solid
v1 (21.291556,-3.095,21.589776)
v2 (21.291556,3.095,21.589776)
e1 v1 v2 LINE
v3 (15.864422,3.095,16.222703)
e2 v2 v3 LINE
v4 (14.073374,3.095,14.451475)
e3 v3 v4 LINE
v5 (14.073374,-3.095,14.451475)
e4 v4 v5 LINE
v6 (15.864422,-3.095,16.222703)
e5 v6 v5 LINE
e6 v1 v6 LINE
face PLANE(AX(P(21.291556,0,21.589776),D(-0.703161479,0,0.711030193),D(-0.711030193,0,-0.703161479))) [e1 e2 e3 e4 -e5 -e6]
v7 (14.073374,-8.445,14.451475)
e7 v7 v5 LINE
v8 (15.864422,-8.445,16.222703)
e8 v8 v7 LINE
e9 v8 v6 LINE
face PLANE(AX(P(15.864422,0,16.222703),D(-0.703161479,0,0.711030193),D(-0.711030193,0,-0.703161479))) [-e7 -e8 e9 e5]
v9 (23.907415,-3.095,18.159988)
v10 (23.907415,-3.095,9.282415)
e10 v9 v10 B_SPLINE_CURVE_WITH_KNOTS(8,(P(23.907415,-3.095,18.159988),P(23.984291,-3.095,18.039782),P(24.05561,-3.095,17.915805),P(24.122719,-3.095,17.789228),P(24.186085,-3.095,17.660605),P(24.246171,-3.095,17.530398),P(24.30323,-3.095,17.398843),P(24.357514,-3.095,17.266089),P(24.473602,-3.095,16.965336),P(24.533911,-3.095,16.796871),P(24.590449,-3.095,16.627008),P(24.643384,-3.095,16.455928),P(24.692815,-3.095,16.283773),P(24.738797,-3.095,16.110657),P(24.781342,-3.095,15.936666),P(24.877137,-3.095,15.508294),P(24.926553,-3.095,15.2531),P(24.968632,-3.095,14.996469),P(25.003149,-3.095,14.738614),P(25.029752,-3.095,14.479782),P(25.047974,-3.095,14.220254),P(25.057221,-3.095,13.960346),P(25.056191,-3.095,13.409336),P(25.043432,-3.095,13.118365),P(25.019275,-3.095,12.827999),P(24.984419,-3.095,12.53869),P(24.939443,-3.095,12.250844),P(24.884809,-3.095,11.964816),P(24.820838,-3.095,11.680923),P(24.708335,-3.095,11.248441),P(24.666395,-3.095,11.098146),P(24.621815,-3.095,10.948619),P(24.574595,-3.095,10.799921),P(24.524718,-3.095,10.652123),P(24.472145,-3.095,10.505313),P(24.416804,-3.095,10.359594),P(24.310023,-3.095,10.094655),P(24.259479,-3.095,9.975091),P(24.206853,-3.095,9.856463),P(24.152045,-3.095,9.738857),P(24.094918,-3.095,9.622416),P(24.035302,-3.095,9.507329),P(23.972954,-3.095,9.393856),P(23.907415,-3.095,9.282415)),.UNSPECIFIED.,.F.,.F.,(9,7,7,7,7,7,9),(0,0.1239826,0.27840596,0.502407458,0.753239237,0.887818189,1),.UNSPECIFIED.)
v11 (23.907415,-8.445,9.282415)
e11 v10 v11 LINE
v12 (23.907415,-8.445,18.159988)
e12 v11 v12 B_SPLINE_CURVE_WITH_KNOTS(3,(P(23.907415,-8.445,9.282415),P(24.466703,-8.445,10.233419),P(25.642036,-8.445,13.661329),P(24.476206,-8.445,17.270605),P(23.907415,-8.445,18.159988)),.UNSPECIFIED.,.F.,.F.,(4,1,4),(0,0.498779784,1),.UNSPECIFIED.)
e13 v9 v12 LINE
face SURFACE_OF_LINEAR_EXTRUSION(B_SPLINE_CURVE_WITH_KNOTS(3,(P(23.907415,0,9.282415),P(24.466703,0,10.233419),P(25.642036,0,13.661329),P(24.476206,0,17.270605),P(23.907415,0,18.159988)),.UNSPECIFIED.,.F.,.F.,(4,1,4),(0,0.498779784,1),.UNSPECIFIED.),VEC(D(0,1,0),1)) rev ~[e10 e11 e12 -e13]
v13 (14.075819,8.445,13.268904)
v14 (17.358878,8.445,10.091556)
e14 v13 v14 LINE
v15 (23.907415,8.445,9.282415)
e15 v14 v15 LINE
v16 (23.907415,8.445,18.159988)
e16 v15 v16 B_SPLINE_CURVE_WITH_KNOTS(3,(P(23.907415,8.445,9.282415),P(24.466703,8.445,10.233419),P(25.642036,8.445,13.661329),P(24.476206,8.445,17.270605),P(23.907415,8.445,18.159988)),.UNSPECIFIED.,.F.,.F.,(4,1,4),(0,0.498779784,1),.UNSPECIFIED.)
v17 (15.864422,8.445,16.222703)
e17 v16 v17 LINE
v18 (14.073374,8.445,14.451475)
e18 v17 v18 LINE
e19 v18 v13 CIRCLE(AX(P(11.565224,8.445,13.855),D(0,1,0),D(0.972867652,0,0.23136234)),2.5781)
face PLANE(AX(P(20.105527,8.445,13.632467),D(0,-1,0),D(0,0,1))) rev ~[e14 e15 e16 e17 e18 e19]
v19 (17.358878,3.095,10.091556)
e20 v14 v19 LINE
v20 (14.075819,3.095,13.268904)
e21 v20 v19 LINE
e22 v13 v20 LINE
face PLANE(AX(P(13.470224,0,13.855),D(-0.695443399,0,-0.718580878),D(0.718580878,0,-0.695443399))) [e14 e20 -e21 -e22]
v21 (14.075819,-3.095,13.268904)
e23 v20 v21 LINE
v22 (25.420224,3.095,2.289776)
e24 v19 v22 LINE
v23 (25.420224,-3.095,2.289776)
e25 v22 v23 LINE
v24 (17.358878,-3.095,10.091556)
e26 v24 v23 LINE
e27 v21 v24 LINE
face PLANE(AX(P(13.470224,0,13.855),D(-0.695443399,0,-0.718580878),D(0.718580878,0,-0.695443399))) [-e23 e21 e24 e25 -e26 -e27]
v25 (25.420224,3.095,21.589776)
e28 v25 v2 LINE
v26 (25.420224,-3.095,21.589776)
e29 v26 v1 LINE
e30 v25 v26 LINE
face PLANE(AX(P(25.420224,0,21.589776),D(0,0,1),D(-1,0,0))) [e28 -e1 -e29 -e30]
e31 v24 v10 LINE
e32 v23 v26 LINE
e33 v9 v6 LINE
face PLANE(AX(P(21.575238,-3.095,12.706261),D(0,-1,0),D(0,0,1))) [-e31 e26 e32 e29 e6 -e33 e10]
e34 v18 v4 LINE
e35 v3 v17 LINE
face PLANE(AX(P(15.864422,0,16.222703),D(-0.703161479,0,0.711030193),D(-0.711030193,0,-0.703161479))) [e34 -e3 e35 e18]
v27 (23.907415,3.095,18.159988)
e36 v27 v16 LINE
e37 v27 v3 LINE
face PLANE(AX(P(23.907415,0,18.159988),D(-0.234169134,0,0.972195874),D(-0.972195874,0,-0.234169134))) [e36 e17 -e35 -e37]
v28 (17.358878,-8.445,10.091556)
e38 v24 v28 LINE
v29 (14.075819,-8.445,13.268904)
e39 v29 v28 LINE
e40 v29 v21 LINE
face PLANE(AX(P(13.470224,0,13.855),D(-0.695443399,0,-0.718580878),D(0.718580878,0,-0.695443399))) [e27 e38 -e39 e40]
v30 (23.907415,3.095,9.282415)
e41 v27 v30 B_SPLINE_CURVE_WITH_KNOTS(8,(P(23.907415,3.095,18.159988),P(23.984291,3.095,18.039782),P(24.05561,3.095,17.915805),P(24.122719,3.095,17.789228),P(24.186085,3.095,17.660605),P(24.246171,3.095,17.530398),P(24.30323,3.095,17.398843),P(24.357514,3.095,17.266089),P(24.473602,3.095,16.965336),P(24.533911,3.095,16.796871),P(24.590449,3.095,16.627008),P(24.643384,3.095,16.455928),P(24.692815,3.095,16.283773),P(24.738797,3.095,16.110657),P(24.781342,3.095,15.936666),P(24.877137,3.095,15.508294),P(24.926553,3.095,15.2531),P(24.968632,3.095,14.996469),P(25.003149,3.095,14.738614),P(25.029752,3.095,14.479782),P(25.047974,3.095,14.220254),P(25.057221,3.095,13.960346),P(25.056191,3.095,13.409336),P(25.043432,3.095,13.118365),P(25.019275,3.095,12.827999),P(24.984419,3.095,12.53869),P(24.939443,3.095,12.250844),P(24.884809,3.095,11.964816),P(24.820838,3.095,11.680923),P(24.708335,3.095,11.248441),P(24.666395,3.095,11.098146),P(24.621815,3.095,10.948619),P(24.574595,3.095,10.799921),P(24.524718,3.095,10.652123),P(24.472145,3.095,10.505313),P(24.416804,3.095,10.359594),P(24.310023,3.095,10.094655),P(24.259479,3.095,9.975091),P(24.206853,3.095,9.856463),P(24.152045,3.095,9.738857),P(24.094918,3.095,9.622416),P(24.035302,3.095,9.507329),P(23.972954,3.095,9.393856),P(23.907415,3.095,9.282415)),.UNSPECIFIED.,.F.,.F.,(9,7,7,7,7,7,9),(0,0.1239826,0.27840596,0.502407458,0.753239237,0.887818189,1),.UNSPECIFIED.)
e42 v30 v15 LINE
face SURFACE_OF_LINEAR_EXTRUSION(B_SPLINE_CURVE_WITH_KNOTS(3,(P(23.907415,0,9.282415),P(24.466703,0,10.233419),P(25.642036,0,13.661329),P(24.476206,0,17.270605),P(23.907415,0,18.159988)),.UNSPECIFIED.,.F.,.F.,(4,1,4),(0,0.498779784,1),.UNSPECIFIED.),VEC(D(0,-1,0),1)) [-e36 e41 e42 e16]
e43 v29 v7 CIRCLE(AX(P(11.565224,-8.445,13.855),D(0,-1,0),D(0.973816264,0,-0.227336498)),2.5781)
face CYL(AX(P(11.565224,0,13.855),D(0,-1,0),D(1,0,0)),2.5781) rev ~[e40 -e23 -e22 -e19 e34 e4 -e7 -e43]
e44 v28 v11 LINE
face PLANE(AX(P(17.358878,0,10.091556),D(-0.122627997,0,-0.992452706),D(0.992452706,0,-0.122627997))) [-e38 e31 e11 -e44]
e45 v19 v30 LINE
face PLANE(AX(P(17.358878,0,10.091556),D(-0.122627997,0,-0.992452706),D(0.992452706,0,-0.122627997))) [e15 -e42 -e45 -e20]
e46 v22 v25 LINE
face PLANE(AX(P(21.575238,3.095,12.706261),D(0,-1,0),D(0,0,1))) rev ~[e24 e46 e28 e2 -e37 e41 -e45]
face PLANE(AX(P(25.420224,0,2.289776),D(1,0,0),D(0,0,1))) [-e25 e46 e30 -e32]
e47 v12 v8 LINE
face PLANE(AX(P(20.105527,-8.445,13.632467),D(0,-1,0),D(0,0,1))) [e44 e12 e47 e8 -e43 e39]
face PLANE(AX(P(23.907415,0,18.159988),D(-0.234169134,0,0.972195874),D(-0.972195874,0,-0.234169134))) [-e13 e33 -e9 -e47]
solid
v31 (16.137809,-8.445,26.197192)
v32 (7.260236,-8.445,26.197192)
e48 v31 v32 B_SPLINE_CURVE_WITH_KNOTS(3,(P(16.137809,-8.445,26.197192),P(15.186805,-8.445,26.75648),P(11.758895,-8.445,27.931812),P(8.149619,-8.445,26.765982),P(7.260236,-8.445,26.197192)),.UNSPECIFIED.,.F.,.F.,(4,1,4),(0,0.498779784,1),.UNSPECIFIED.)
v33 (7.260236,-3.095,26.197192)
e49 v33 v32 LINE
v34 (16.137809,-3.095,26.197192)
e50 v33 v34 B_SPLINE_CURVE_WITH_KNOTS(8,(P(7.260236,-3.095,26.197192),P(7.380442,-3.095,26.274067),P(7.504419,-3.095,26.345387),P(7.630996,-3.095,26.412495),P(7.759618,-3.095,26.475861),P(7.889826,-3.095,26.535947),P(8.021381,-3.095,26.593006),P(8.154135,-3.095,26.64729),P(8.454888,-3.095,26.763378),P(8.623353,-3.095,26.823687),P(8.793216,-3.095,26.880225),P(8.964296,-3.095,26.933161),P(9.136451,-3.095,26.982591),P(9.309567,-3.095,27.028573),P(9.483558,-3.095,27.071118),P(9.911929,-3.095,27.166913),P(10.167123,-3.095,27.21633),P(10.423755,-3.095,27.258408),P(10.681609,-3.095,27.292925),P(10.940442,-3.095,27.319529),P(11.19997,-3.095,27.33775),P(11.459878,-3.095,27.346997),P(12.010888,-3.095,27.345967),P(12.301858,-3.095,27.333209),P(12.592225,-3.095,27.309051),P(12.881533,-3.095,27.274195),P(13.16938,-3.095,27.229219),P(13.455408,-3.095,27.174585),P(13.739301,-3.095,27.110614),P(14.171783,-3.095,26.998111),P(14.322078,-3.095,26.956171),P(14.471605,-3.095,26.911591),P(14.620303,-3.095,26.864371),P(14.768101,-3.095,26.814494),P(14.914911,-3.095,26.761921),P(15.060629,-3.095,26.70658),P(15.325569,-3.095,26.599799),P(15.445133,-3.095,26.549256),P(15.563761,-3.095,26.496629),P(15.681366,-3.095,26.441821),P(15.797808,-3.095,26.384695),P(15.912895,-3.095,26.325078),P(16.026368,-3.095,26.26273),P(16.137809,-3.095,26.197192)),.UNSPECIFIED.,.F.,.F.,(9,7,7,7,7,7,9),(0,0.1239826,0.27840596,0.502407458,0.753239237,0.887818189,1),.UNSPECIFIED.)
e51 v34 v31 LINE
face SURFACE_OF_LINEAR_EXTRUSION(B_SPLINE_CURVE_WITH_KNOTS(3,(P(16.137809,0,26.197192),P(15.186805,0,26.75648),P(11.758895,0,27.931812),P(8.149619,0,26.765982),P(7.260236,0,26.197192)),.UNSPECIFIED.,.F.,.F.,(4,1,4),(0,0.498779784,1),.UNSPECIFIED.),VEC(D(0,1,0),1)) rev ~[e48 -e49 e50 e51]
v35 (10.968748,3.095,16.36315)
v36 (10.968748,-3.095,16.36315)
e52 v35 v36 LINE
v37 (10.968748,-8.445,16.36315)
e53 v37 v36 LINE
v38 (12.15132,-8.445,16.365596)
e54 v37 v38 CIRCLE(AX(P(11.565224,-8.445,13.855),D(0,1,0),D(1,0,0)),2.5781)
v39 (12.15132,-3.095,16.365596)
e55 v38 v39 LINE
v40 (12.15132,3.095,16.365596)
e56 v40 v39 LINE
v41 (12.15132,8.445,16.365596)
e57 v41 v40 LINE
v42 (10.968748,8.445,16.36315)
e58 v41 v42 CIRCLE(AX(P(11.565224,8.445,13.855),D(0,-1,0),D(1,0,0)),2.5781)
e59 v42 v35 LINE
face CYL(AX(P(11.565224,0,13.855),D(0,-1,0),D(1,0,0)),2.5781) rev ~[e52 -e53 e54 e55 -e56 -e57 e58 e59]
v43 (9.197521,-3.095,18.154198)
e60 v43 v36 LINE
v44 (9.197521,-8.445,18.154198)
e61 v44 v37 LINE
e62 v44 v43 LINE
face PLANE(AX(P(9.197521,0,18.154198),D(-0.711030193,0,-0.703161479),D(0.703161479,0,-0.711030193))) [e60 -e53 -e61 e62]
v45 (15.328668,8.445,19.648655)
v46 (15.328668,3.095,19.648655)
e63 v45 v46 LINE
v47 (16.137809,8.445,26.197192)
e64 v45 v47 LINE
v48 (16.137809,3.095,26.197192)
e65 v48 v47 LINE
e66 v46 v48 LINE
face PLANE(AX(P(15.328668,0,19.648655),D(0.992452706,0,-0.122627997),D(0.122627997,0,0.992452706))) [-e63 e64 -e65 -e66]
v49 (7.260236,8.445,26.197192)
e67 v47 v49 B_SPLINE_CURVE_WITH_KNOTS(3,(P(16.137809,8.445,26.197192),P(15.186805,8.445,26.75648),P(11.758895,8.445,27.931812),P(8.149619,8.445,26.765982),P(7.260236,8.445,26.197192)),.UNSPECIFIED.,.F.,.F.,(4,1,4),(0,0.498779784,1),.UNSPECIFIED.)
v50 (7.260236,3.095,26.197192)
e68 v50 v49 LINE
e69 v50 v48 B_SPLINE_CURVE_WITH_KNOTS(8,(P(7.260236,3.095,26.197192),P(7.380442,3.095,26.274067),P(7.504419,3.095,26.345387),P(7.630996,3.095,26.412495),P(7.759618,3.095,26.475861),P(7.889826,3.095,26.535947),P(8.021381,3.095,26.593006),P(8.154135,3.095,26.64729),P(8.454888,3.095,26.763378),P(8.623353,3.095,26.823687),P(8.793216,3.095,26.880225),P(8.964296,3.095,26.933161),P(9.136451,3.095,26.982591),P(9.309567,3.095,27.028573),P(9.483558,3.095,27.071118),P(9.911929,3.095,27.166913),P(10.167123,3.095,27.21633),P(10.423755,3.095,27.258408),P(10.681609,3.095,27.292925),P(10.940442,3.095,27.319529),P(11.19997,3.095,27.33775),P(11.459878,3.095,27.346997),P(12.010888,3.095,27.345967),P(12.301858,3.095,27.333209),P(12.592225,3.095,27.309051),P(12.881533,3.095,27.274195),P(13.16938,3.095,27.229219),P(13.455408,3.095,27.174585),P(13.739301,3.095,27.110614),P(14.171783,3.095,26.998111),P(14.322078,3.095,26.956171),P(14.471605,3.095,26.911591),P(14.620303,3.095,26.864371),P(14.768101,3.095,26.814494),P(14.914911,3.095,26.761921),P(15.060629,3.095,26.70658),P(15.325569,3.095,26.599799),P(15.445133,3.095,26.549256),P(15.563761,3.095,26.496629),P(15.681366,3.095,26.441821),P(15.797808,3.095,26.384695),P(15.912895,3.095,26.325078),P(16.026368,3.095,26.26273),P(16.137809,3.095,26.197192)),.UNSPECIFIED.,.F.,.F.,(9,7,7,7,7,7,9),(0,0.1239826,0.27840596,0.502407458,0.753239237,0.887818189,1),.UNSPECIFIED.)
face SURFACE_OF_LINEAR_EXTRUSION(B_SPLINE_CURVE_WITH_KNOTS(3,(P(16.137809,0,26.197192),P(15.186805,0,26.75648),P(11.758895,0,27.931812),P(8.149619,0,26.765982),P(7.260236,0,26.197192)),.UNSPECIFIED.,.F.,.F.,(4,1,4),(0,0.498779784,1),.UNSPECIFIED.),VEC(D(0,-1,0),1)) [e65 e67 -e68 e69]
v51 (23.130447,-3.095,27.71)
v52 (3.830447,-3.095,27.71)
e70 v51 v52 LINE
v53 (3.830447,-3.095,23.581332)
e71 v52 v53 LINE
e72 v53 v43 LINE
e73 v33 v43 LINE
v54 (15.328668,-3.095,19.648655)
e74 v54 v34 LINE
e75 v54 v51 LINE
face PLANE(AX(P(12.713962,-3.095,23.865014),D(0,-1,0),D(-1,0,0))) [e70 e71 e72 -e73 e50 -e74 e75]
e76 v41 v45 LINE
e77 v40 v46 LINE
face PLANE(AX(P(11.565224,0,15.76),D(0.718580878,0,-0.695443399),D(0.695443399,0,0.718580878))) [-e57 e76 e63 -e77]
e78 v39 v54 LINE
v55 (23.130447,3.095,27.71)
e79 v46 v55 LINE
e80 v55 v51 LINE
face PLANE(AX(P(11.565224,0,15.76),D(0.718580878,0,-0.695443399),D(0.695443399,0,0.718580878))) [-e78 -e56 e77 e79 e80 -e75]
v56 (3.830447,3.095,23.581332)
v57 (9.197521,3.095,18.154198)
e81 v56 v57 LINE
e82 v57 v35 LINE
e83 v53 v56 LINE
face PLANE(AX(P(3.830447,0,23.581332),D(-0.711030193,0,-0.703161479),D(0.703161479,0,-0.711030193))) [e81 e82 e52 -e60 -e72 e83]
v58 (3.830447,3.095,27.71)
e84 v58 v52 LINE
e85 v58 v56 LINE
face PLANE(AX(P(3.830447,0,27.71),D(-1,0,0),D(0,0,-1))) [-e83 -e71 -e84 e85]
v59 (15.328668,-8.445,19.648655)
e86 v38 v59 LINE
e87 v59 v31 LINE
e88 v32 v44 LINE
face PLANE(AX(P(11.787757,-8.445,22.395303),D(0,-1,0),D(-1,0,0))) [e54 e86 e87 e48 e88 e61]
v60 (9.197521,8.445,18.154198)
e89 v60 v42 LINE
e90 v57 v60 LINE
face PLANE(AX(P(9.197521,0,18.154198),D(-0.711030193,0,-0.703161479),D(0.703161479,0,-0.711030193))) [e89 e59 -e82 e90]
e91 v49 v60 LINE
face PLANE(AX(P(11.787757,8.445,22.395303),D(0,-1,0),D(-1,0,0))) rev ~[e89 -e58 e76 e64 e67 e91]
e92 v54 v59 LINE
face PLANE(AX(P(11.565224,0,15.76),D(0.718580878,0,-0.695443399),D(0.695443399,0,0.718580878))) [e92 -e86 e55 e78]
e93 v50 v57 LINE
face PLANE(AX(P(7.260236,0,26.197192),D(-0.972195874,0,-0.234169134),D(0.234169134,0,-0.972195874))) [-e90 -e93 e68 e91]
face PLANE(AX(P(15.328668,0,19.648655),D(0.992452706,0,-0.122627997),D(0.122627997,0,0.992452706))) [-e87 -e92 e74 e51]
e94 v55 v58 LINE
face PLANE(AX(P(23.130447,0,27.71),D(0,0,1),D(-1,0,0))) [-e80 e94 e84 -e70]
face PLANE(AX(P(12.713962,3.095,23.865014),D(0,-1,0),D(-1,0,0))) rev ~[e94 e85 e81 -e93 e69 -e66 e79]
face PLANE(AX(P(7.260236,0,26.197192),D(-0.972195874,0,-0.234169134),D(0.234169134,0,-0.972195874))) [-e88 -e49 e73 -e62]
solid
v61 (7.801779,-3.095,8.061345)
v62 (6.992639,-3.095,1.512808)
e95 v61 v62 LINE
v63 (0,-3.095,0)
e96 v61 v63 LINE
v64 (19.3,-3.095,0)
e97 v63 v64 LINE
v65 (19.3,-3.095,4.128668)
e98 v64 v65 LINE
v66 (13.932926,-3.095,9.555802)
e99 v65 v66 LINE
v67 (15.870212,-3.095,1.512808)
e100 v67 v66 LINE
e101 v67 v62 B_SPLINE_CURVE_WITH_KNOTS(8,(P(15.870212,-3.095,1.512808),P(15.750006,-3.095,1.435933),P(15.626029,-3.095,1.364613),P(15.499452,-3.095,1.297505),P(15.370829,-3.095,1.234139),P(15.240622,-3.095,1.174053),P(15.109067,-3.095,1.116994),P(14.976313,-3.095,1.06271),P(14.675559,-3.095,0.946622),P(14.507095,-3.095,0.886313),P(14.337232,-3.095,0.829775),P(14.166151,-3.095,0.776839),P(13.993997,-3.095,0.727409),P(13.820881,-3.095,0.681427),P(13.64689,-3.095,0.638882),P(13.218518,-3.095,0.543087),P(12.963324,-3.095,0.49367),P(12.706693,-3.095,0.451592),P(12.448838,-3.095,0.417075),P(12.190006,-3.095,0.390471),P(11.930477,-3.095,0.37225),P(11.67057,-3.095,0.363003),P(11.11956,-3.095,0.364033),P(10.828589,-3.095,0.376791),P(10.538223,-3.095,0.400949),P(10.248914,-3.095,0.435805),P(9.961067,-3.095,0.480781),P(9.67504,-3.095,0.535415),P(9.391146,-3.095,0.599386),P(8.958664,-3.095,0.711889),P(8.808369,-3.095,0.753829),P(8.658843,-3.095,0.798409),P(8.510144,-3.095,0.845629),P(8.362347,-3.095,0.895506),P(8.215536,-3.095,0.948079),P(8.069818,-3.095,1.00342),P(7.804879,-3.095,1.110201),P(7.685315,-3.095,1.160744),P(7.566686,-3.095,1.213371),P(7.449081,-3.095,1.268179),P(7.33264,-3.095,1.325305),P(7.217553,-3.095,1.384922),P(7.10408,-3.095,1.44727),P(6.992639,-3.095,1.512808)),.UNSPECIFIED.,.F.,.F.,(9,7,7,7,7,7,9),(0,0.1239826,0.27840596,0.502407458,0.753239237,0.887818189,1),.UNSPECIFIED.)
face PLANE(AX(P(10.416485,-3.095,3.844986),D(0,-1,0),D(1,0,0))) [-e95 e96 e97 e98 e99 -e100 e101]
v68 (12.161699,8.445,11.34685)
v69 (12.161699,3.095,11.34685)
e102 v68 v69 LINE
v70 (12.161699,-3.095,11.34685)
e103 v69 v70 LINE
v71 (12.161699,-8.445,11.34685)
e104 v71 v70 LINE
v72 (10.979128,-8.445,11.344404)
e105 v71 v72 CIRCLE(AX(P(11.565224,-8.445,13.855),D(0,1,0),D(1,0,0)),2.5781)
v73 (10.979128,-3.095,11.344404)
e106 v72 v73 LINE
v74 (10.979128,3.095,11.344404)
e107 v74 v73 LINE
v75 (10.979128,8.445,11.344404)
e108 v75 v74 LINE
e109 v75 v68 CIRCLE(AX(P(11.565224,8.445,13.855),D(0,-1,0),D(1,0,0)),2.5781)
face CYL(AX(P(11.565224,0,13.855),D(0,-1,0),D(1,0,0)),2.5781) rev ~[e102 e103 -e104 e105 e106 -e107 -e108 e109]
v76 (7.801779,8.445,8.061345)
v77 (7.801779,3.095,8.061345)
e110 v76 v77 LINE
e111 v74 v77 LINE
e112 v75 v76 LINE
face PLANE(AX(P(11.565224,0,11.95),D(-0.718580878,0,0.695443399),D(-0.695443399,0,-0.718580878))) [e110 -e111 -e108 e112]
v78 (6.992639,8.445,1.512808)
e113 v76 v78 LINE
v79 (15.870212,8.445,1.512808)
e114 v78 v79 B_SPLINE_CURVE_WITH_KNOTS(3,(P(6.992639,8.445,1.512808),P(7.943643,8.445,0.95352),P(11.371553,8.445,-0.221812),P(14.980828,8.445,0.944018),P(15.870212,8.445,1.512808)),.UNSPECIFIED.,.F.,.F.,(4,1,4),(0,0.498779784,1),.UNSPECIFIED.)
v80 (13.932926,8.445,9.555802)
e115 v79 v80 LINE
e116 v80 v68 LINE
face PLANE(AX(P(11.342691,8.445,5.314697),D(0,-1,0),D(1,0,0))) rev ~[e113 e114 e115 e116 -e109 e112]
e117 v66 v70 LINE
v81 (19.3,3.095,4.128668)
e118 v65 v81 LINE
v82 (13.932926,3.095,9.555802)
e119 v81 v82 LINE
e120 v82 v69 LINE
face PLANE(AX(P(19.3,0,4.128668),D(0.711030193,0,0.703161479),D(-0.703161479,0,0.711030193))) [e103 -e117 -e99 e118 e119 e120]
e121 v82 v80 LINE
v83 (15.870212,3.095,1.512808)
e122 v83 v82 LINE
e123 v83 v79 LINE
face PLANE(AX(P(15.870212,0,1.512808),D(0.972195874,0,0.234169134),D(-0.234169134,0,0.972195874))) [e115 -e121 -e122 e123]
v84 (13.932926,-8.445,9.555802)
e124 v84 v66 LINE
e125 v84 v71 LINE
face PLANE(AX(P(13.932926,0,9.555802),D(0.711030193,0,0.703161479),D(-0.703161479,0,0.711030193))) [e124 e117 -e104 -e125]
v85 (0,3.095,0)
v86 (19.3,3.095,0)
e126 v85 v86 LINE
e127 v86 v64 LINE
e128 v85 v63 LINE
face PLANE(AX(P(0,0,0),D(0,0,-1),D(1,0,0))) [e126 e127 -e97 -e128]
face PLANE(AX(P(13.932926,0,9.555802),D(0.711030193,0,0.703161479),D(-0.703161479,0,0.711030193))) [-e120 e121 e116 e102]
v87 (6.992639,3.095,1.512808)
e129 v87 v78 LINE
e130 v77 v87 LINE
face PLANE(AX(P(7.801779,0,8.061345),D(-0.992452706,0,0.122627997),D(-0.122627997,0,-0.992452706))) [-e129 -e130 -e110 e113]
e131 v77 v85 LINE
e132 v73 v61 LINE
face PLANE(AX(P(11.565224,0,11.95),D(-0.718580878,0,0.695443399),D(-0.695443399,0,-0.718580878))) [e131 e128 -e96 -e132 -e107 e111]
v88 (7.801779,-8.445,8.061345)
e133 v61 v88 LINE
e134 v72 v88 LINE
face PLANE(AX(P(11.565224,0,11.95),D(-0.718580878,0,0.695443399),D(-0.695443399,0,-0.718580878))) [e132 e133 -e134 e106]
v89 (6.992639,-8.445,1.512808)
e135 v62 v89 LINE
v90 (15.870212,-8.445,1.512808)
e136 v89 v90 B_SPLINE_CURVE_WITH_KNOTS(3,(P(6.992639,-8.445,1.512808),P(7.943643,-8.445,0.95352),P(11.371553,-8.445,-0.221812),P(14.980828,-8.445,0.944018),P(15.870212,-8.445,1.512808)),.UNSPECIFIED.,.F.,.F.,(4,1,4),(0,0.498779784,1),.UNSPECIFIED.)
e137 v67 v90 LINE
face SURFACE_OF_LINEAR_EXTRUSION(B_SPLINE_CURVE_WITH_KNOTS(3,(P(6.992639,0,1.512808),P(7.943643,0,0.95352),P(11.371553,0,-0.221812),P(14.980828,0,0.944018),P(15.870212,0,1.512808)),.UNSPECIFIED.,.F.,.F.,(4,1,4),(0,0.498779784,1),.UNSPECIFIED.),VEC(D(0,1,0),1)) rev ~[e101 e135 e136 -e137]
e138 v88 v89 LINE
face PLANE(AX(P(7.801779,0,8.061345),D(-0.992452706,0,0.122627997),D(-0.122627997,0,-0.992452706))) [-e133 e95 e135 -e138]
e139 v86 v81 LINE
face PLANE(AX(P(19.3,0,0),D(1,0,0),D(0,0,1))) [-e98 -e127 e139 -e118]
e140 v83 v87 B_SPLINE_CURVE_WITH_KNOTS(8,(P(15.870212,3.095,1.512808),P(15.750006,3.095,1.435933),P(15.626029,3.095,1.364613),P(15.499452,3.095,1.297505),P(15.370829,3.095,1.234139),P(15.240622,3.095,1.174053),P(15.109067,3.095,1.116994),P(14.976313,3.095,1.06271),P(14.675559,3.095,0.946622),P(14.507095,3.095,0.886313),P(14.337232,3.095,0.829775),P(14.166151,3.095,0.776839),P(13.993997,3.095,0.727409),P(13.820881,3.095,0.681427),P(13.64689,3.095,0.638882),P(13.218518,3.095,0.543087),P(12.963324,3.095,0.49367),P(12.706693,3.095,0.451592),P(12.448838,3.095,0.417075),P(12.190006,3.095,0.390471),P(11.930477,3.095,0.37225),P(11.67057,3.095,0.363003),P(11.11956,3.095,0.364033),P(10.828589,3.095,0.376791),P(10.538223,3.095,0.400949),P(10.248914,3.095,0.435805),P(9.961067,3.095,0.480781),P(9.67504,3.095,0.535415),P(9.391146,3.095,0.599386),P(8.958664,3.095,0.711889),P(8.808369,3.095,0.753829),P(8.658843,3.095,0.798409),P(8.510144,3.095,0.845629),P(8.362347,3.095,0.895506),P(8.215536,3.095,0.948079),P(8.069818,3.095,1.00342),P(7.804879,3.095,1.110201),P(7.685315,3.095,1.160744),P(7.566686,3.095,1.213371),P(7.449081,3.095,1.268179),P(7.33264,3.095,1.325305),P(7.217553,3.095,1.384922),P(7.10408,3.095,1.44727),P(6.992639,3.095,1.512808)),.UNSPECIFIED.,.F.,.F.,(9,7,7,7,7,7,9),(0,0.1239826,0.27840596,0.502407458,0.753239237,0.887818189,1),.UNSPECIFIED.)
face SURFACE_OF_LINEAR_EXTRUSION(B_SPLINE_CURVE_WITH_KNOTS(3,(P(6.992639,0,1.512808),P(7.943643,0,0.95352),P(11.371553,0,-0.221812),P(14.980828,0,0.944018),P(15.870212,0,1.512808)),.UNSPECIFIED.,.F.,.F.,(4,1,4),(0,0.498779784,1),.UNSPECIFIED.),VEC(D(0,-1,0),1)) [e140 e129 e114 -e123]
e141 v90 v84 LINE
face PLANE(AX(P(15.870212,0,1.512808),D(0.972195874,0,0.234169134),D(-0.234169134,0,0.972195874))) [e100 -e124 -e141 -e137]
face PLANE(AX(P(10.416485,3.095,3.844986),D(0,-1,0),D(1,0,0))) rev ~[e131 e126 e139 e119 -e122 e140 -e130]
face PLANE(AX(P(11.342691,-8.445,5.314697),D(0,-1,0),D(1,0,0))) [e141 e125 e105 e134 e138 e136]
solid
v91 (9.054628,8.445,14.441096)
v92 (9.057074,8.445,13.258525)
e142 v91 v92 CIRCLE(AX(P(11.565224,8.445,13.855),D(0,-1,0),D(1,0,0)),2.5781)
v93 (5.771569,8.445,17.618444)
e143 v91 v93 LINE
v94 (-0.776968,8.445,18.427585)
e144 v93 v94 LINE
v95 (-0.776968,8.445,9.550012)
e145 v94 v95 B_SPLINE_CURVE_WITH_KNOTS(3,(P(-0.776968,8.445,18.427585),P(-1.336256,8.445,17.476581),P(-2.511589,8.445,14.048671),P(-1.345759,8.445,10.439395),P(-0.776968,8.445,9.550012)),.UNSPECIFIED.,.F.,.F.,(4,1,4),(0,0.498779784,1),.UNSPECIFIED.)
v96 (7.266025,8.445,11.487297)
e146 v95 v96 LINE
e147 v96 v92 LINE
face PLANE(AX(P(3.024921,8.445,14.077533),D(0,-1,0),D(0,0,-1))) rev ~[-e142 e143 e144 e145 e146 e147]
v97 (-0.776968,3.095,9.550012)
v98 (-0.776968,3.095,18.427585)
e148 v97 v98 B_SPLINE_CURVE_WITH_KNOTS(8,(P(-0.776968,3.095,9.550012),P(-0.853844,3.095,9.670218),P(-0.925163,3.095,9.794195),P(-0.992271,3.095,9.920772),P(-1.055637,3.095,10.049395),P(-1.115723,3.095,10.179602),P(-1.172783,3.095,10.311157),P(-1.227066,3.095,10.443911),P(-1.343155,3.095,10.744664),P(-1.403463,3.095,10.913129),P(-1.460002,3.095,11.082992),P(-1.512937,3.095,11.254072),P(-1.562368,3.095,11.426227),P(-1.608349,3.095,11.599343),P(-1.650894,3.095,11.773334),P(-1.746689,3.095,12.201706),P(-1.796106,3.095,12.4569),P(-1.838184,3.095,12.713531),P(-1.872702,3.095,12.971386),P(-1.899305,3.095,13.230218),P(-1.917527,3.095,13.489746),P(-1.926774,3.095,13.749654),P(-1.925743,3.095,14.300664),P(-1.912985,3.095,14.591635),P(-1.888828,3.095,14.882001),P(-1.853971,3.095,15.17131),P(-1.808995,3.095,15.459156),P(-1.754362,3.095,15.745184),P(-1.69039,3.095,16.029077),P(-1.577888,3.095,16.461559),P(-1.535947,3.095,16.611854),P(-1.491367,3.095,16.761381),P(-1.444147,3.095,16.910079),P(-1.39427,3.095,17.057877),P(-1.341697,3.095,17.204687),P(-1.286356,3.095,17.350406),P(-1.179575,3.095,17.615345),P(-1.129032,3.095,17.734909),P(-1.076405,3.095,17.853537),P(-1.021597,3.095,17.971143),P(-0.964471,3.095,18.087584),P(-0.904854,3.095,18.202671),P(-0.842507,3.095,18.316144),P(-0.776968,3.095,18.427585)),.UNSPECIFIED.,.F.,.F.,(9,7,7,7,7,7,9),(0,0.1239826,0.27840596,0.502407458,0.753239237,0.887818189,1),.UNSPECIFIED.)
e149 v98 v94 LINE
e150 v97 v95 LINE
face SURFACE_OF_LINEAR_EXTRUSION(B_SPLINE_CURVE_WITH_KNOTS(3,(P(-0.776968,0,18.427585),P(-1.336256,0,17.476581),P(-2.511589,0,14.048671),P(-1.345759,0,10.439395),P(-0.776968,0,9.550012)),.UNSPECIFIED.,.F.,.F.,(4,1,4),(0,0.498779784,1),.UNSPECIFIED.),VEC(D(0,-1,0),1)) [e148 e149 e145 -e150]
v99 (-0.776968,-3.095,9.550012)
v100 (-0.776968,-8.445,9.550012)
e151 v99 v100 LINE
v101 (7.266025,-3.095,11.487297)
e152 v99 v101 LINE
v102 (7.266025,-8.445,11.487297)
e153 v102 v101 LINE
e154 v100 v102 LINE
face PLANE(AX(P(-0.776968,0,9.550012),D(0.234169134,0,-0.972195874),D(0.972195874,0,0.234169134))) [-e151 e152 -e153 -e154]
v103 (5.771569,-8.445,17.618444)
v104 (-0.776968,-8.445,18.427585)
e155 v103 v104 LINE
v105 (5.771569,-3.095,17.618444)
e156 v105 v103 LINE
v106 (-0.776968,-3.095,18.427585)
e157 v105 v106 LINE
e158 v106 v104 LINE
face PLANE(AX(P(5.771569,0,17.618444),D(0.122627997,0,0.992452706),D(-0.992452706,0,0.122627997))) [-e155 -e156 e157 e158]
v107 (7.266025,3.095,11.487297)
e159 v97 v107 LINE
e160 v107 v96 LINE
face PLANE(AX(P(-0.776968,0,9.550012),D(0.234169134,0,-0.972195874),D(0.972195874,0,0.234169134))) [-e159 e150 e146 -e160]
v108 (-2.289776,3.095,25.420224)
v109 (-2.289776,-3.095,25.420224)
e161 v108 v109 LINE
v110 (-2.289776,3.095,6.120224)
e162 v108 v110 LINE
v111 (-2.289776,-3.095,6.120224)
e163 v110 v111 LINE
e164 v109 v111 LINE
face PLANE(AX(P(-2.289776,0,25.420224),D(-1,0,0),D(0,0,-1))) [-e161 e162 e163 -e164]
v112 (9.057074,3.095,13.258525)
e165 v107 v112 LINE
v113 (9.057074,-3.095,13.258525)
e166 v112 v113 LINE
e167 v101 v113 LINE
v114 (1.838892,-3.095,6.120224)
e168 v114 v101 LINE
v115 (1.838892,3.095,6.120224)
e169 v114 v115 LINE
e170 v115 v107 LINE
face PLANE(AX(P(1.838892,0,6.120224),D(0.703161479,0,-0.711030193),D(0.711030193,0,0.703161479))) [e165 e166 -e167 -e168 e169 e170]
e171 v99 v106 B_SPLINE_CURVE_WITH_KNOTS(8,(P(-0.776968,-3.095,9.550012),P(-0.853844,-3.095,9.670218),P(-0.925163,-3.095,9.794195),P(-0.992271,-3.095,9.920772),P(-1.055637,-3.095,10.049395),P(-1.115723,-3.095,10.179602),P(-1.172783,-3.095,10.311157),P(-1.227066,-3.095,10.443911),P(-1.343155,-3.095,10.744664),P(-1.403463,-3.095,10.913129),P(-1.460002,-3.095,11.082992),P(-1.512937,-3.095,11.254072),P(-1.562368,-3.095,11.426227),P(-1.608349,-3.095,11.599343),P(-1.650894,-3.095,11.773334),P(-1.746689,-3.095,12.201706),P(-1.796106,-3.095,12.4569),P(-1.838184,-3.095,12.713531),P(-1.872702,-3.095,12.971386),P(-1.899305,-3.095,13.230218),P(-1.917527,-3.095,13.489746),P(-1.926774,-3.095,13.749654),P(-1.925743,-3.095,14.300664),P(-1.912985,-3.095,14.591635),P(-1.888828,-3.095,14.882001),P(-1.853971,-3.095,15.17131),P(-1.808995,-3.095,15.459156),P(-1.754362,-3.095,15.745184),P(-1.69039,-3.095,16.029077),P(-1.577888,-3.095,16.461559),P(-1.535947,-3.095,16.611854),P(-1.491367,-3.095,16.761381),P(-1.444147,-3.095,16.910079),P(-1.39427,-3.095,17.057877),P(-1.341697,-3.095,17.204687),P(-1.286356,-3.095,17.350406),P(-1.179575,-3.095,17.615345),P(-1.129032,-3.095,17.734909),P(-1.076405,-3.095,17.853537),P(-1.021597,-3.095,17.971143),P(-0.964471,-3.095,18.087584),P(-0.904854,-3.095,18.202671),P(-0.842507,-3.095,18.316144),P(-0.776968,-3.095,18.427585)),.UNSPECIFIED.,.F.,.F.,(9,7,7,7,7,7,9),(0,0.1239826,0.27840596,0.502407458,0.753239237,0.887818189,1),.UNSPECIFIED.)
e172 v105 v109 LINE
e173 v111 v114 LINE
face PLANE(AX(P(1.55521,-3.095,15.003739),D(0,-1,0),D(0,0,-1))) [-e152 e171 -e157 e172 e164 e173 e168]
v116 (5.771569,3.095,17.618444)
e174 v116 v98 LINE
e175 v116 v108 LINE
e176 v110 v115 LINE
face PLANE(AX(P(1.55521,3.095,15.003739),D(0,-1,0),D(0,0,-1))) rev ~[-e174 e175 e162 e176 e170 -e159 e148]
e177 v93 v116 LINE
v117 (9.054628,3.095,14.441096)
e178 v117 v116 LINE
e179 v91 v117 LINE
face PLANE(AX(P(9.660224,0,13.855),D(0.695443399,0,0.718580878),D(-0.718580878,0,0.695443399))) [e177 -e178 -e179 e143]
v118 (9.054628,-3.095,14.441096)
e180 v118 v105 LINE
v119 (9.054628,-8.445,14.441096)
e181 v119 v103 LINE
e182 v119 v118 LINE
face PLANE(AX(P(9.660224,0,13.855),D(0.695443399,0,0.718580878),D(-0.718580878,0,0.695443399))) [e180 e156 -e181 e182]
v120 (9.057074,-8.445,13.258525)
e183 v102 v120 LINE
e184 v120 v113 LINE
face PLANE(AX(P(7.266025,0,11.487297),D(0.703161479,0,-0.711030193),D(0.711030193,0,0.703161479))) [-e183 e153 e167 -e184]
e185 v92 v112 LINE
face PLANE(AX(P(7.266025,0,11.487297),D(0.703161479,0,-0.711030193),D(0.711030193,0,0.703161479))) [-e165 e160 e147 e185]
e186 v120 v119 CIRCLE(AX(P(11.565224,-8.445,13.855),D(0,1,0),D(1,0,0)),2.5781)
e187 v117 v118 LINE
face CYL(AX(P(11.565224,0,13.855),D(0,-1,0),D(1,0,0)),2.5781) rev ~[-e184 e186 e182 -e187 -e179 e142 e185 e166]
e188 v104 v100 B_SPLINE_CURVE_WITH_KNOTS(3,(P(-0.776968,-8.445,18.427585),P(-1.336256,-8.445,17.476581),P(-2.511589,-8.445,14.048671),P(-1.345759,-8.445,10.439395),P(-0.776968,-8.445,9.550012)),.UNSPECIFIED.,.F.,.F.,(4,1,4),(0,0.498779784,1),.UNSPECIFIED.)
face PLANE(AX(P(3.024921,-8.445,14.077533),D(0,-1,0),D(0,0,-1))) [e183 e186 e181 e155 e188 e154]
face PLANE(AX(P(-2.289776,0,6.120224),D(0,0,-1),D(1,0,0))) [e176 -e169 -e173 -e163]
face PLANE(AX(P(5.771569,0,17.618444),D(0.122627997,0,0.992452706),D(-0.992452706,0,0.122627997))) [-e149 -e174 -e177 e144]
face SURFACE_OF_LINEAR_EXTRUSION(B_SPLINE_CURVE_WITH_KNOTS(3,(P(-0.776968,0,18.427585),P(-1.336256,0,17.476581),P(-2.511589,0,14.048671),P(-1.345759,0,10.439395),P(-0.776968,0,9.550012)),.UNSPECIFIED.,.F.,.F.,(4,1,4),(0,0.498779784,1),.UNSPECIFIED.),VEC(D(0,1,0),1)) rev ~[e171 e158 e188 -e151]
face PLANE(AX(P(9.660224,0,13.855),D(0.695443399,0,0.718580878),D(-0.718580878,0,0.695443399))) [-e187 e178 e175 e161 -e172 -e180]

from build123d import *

# Parameters (mm, degrees)
F1_DEPTH      = 3.095
F3_DEPTH      = 8.445
F7_COUNT      = 4
F8_R          = 2.5781
F9_DEPTH      = 8.4460001
F9_DEPTH_BACK = 8.4460001


with BuildPart() as f1:
    # F0 (on Front) → F1 (new body, symmetric)
    with BuildSketch(Plane.XZ):
        Polygon((11.5652237332, 11.95), (0, 0), (19.3, 0), (19.3, 4.1286678818), align=None)
    extrude(amount=F1_DEPTH, both=True)

    # F2 (on Front) → F3 (join, symmetric)
    with BuildSketch(Plane.XZ):
        with BuildLine():
            Line((13.932926336, 9.555801671), (11.5652237332, 11.95))
            Line((11.5652237332, 11.95), (7.8017793698, 8.0613454283))
            Line((7.8017793698, 8.0613454283), (6.9926385768, 1.5128084924))
            add(Edge.make_bspline(
                [(6.9926385768, 1.5128084924), (7.9436427917, 0.9535204283), (11.3715528422, -0.2218124125), (14.9808283626, 0.9440175404), (15.870211611, 1.5128084924)],
                knots=[0, 0, 0, 0, 0.4987797835, 1, 1, 1, 1], degree=3))
            Line((15.870211611, 1.5128084924), (13.932926336, 9.555801671))
        make_face()
    extrude(amount=F3_DEPTH, both=True)


with BuildPart() as f7_1:
    # F7: instance of F1
    add(f1.part.rotate(Axis((11.5652237332, 0, 13.855), (0, -1, 0)), 1 * 360 / F7_COUNT))


with BuildPart() as f7_2:
    # F7: instance of F1
    add(f1.part.rotate(Axis((11.5652237332, 0, 13.855), (0, -1, 0)), 2 * 360 / F7_COUNT))


with BuildPart() as f7_3:
    # F7: instance of F1
    add(f1.part.rotate(Axis((11.5652237332, 0, 13.855), (0, -1, 0)), 3 * 360 / F7_COUNT))


with BuildPart() as f9_tool:
    # F8 (on Front) → F9 (new body, two sides)
    with BuildSketch(Plane.XZ) as f9_sk:
        with Locations((11.5652237332, 13.855)):
            Circle(F8_R)
    extrude(amount=-F9_DEPTH)
    extrude(f9_sk.sketch, amount=F9_DEPTH_BACK)


with BuildPart() as f1_1:
    add(f1.part)

    # F9: cut by f9_tool
    add(f9_tool.part, mode=Mode.SUBTRACT)


with BuildPart() as f7_1_1:
    add(f7_1.part)

    # F9: cut by f9_tool
    add(f9_tool.part, mode=Mode.SUBTRACT)


with BuildPart() as f7_2_1:
    add(f7_2.part)

    # F9: cut by f9_tool
    add(f9_tool.part, mode=Mode.SUBTRACT)


with BuildPart() as f7_3_1:
    add(f7_3.part)

    # F9: cut by f9_tool
    add(f9_tool.part, mode=Mode.SUBTRACT)


solid = Compound([f1_1.part, f7_1_1.part, f7_2_1.part, f7_3_1.part])
